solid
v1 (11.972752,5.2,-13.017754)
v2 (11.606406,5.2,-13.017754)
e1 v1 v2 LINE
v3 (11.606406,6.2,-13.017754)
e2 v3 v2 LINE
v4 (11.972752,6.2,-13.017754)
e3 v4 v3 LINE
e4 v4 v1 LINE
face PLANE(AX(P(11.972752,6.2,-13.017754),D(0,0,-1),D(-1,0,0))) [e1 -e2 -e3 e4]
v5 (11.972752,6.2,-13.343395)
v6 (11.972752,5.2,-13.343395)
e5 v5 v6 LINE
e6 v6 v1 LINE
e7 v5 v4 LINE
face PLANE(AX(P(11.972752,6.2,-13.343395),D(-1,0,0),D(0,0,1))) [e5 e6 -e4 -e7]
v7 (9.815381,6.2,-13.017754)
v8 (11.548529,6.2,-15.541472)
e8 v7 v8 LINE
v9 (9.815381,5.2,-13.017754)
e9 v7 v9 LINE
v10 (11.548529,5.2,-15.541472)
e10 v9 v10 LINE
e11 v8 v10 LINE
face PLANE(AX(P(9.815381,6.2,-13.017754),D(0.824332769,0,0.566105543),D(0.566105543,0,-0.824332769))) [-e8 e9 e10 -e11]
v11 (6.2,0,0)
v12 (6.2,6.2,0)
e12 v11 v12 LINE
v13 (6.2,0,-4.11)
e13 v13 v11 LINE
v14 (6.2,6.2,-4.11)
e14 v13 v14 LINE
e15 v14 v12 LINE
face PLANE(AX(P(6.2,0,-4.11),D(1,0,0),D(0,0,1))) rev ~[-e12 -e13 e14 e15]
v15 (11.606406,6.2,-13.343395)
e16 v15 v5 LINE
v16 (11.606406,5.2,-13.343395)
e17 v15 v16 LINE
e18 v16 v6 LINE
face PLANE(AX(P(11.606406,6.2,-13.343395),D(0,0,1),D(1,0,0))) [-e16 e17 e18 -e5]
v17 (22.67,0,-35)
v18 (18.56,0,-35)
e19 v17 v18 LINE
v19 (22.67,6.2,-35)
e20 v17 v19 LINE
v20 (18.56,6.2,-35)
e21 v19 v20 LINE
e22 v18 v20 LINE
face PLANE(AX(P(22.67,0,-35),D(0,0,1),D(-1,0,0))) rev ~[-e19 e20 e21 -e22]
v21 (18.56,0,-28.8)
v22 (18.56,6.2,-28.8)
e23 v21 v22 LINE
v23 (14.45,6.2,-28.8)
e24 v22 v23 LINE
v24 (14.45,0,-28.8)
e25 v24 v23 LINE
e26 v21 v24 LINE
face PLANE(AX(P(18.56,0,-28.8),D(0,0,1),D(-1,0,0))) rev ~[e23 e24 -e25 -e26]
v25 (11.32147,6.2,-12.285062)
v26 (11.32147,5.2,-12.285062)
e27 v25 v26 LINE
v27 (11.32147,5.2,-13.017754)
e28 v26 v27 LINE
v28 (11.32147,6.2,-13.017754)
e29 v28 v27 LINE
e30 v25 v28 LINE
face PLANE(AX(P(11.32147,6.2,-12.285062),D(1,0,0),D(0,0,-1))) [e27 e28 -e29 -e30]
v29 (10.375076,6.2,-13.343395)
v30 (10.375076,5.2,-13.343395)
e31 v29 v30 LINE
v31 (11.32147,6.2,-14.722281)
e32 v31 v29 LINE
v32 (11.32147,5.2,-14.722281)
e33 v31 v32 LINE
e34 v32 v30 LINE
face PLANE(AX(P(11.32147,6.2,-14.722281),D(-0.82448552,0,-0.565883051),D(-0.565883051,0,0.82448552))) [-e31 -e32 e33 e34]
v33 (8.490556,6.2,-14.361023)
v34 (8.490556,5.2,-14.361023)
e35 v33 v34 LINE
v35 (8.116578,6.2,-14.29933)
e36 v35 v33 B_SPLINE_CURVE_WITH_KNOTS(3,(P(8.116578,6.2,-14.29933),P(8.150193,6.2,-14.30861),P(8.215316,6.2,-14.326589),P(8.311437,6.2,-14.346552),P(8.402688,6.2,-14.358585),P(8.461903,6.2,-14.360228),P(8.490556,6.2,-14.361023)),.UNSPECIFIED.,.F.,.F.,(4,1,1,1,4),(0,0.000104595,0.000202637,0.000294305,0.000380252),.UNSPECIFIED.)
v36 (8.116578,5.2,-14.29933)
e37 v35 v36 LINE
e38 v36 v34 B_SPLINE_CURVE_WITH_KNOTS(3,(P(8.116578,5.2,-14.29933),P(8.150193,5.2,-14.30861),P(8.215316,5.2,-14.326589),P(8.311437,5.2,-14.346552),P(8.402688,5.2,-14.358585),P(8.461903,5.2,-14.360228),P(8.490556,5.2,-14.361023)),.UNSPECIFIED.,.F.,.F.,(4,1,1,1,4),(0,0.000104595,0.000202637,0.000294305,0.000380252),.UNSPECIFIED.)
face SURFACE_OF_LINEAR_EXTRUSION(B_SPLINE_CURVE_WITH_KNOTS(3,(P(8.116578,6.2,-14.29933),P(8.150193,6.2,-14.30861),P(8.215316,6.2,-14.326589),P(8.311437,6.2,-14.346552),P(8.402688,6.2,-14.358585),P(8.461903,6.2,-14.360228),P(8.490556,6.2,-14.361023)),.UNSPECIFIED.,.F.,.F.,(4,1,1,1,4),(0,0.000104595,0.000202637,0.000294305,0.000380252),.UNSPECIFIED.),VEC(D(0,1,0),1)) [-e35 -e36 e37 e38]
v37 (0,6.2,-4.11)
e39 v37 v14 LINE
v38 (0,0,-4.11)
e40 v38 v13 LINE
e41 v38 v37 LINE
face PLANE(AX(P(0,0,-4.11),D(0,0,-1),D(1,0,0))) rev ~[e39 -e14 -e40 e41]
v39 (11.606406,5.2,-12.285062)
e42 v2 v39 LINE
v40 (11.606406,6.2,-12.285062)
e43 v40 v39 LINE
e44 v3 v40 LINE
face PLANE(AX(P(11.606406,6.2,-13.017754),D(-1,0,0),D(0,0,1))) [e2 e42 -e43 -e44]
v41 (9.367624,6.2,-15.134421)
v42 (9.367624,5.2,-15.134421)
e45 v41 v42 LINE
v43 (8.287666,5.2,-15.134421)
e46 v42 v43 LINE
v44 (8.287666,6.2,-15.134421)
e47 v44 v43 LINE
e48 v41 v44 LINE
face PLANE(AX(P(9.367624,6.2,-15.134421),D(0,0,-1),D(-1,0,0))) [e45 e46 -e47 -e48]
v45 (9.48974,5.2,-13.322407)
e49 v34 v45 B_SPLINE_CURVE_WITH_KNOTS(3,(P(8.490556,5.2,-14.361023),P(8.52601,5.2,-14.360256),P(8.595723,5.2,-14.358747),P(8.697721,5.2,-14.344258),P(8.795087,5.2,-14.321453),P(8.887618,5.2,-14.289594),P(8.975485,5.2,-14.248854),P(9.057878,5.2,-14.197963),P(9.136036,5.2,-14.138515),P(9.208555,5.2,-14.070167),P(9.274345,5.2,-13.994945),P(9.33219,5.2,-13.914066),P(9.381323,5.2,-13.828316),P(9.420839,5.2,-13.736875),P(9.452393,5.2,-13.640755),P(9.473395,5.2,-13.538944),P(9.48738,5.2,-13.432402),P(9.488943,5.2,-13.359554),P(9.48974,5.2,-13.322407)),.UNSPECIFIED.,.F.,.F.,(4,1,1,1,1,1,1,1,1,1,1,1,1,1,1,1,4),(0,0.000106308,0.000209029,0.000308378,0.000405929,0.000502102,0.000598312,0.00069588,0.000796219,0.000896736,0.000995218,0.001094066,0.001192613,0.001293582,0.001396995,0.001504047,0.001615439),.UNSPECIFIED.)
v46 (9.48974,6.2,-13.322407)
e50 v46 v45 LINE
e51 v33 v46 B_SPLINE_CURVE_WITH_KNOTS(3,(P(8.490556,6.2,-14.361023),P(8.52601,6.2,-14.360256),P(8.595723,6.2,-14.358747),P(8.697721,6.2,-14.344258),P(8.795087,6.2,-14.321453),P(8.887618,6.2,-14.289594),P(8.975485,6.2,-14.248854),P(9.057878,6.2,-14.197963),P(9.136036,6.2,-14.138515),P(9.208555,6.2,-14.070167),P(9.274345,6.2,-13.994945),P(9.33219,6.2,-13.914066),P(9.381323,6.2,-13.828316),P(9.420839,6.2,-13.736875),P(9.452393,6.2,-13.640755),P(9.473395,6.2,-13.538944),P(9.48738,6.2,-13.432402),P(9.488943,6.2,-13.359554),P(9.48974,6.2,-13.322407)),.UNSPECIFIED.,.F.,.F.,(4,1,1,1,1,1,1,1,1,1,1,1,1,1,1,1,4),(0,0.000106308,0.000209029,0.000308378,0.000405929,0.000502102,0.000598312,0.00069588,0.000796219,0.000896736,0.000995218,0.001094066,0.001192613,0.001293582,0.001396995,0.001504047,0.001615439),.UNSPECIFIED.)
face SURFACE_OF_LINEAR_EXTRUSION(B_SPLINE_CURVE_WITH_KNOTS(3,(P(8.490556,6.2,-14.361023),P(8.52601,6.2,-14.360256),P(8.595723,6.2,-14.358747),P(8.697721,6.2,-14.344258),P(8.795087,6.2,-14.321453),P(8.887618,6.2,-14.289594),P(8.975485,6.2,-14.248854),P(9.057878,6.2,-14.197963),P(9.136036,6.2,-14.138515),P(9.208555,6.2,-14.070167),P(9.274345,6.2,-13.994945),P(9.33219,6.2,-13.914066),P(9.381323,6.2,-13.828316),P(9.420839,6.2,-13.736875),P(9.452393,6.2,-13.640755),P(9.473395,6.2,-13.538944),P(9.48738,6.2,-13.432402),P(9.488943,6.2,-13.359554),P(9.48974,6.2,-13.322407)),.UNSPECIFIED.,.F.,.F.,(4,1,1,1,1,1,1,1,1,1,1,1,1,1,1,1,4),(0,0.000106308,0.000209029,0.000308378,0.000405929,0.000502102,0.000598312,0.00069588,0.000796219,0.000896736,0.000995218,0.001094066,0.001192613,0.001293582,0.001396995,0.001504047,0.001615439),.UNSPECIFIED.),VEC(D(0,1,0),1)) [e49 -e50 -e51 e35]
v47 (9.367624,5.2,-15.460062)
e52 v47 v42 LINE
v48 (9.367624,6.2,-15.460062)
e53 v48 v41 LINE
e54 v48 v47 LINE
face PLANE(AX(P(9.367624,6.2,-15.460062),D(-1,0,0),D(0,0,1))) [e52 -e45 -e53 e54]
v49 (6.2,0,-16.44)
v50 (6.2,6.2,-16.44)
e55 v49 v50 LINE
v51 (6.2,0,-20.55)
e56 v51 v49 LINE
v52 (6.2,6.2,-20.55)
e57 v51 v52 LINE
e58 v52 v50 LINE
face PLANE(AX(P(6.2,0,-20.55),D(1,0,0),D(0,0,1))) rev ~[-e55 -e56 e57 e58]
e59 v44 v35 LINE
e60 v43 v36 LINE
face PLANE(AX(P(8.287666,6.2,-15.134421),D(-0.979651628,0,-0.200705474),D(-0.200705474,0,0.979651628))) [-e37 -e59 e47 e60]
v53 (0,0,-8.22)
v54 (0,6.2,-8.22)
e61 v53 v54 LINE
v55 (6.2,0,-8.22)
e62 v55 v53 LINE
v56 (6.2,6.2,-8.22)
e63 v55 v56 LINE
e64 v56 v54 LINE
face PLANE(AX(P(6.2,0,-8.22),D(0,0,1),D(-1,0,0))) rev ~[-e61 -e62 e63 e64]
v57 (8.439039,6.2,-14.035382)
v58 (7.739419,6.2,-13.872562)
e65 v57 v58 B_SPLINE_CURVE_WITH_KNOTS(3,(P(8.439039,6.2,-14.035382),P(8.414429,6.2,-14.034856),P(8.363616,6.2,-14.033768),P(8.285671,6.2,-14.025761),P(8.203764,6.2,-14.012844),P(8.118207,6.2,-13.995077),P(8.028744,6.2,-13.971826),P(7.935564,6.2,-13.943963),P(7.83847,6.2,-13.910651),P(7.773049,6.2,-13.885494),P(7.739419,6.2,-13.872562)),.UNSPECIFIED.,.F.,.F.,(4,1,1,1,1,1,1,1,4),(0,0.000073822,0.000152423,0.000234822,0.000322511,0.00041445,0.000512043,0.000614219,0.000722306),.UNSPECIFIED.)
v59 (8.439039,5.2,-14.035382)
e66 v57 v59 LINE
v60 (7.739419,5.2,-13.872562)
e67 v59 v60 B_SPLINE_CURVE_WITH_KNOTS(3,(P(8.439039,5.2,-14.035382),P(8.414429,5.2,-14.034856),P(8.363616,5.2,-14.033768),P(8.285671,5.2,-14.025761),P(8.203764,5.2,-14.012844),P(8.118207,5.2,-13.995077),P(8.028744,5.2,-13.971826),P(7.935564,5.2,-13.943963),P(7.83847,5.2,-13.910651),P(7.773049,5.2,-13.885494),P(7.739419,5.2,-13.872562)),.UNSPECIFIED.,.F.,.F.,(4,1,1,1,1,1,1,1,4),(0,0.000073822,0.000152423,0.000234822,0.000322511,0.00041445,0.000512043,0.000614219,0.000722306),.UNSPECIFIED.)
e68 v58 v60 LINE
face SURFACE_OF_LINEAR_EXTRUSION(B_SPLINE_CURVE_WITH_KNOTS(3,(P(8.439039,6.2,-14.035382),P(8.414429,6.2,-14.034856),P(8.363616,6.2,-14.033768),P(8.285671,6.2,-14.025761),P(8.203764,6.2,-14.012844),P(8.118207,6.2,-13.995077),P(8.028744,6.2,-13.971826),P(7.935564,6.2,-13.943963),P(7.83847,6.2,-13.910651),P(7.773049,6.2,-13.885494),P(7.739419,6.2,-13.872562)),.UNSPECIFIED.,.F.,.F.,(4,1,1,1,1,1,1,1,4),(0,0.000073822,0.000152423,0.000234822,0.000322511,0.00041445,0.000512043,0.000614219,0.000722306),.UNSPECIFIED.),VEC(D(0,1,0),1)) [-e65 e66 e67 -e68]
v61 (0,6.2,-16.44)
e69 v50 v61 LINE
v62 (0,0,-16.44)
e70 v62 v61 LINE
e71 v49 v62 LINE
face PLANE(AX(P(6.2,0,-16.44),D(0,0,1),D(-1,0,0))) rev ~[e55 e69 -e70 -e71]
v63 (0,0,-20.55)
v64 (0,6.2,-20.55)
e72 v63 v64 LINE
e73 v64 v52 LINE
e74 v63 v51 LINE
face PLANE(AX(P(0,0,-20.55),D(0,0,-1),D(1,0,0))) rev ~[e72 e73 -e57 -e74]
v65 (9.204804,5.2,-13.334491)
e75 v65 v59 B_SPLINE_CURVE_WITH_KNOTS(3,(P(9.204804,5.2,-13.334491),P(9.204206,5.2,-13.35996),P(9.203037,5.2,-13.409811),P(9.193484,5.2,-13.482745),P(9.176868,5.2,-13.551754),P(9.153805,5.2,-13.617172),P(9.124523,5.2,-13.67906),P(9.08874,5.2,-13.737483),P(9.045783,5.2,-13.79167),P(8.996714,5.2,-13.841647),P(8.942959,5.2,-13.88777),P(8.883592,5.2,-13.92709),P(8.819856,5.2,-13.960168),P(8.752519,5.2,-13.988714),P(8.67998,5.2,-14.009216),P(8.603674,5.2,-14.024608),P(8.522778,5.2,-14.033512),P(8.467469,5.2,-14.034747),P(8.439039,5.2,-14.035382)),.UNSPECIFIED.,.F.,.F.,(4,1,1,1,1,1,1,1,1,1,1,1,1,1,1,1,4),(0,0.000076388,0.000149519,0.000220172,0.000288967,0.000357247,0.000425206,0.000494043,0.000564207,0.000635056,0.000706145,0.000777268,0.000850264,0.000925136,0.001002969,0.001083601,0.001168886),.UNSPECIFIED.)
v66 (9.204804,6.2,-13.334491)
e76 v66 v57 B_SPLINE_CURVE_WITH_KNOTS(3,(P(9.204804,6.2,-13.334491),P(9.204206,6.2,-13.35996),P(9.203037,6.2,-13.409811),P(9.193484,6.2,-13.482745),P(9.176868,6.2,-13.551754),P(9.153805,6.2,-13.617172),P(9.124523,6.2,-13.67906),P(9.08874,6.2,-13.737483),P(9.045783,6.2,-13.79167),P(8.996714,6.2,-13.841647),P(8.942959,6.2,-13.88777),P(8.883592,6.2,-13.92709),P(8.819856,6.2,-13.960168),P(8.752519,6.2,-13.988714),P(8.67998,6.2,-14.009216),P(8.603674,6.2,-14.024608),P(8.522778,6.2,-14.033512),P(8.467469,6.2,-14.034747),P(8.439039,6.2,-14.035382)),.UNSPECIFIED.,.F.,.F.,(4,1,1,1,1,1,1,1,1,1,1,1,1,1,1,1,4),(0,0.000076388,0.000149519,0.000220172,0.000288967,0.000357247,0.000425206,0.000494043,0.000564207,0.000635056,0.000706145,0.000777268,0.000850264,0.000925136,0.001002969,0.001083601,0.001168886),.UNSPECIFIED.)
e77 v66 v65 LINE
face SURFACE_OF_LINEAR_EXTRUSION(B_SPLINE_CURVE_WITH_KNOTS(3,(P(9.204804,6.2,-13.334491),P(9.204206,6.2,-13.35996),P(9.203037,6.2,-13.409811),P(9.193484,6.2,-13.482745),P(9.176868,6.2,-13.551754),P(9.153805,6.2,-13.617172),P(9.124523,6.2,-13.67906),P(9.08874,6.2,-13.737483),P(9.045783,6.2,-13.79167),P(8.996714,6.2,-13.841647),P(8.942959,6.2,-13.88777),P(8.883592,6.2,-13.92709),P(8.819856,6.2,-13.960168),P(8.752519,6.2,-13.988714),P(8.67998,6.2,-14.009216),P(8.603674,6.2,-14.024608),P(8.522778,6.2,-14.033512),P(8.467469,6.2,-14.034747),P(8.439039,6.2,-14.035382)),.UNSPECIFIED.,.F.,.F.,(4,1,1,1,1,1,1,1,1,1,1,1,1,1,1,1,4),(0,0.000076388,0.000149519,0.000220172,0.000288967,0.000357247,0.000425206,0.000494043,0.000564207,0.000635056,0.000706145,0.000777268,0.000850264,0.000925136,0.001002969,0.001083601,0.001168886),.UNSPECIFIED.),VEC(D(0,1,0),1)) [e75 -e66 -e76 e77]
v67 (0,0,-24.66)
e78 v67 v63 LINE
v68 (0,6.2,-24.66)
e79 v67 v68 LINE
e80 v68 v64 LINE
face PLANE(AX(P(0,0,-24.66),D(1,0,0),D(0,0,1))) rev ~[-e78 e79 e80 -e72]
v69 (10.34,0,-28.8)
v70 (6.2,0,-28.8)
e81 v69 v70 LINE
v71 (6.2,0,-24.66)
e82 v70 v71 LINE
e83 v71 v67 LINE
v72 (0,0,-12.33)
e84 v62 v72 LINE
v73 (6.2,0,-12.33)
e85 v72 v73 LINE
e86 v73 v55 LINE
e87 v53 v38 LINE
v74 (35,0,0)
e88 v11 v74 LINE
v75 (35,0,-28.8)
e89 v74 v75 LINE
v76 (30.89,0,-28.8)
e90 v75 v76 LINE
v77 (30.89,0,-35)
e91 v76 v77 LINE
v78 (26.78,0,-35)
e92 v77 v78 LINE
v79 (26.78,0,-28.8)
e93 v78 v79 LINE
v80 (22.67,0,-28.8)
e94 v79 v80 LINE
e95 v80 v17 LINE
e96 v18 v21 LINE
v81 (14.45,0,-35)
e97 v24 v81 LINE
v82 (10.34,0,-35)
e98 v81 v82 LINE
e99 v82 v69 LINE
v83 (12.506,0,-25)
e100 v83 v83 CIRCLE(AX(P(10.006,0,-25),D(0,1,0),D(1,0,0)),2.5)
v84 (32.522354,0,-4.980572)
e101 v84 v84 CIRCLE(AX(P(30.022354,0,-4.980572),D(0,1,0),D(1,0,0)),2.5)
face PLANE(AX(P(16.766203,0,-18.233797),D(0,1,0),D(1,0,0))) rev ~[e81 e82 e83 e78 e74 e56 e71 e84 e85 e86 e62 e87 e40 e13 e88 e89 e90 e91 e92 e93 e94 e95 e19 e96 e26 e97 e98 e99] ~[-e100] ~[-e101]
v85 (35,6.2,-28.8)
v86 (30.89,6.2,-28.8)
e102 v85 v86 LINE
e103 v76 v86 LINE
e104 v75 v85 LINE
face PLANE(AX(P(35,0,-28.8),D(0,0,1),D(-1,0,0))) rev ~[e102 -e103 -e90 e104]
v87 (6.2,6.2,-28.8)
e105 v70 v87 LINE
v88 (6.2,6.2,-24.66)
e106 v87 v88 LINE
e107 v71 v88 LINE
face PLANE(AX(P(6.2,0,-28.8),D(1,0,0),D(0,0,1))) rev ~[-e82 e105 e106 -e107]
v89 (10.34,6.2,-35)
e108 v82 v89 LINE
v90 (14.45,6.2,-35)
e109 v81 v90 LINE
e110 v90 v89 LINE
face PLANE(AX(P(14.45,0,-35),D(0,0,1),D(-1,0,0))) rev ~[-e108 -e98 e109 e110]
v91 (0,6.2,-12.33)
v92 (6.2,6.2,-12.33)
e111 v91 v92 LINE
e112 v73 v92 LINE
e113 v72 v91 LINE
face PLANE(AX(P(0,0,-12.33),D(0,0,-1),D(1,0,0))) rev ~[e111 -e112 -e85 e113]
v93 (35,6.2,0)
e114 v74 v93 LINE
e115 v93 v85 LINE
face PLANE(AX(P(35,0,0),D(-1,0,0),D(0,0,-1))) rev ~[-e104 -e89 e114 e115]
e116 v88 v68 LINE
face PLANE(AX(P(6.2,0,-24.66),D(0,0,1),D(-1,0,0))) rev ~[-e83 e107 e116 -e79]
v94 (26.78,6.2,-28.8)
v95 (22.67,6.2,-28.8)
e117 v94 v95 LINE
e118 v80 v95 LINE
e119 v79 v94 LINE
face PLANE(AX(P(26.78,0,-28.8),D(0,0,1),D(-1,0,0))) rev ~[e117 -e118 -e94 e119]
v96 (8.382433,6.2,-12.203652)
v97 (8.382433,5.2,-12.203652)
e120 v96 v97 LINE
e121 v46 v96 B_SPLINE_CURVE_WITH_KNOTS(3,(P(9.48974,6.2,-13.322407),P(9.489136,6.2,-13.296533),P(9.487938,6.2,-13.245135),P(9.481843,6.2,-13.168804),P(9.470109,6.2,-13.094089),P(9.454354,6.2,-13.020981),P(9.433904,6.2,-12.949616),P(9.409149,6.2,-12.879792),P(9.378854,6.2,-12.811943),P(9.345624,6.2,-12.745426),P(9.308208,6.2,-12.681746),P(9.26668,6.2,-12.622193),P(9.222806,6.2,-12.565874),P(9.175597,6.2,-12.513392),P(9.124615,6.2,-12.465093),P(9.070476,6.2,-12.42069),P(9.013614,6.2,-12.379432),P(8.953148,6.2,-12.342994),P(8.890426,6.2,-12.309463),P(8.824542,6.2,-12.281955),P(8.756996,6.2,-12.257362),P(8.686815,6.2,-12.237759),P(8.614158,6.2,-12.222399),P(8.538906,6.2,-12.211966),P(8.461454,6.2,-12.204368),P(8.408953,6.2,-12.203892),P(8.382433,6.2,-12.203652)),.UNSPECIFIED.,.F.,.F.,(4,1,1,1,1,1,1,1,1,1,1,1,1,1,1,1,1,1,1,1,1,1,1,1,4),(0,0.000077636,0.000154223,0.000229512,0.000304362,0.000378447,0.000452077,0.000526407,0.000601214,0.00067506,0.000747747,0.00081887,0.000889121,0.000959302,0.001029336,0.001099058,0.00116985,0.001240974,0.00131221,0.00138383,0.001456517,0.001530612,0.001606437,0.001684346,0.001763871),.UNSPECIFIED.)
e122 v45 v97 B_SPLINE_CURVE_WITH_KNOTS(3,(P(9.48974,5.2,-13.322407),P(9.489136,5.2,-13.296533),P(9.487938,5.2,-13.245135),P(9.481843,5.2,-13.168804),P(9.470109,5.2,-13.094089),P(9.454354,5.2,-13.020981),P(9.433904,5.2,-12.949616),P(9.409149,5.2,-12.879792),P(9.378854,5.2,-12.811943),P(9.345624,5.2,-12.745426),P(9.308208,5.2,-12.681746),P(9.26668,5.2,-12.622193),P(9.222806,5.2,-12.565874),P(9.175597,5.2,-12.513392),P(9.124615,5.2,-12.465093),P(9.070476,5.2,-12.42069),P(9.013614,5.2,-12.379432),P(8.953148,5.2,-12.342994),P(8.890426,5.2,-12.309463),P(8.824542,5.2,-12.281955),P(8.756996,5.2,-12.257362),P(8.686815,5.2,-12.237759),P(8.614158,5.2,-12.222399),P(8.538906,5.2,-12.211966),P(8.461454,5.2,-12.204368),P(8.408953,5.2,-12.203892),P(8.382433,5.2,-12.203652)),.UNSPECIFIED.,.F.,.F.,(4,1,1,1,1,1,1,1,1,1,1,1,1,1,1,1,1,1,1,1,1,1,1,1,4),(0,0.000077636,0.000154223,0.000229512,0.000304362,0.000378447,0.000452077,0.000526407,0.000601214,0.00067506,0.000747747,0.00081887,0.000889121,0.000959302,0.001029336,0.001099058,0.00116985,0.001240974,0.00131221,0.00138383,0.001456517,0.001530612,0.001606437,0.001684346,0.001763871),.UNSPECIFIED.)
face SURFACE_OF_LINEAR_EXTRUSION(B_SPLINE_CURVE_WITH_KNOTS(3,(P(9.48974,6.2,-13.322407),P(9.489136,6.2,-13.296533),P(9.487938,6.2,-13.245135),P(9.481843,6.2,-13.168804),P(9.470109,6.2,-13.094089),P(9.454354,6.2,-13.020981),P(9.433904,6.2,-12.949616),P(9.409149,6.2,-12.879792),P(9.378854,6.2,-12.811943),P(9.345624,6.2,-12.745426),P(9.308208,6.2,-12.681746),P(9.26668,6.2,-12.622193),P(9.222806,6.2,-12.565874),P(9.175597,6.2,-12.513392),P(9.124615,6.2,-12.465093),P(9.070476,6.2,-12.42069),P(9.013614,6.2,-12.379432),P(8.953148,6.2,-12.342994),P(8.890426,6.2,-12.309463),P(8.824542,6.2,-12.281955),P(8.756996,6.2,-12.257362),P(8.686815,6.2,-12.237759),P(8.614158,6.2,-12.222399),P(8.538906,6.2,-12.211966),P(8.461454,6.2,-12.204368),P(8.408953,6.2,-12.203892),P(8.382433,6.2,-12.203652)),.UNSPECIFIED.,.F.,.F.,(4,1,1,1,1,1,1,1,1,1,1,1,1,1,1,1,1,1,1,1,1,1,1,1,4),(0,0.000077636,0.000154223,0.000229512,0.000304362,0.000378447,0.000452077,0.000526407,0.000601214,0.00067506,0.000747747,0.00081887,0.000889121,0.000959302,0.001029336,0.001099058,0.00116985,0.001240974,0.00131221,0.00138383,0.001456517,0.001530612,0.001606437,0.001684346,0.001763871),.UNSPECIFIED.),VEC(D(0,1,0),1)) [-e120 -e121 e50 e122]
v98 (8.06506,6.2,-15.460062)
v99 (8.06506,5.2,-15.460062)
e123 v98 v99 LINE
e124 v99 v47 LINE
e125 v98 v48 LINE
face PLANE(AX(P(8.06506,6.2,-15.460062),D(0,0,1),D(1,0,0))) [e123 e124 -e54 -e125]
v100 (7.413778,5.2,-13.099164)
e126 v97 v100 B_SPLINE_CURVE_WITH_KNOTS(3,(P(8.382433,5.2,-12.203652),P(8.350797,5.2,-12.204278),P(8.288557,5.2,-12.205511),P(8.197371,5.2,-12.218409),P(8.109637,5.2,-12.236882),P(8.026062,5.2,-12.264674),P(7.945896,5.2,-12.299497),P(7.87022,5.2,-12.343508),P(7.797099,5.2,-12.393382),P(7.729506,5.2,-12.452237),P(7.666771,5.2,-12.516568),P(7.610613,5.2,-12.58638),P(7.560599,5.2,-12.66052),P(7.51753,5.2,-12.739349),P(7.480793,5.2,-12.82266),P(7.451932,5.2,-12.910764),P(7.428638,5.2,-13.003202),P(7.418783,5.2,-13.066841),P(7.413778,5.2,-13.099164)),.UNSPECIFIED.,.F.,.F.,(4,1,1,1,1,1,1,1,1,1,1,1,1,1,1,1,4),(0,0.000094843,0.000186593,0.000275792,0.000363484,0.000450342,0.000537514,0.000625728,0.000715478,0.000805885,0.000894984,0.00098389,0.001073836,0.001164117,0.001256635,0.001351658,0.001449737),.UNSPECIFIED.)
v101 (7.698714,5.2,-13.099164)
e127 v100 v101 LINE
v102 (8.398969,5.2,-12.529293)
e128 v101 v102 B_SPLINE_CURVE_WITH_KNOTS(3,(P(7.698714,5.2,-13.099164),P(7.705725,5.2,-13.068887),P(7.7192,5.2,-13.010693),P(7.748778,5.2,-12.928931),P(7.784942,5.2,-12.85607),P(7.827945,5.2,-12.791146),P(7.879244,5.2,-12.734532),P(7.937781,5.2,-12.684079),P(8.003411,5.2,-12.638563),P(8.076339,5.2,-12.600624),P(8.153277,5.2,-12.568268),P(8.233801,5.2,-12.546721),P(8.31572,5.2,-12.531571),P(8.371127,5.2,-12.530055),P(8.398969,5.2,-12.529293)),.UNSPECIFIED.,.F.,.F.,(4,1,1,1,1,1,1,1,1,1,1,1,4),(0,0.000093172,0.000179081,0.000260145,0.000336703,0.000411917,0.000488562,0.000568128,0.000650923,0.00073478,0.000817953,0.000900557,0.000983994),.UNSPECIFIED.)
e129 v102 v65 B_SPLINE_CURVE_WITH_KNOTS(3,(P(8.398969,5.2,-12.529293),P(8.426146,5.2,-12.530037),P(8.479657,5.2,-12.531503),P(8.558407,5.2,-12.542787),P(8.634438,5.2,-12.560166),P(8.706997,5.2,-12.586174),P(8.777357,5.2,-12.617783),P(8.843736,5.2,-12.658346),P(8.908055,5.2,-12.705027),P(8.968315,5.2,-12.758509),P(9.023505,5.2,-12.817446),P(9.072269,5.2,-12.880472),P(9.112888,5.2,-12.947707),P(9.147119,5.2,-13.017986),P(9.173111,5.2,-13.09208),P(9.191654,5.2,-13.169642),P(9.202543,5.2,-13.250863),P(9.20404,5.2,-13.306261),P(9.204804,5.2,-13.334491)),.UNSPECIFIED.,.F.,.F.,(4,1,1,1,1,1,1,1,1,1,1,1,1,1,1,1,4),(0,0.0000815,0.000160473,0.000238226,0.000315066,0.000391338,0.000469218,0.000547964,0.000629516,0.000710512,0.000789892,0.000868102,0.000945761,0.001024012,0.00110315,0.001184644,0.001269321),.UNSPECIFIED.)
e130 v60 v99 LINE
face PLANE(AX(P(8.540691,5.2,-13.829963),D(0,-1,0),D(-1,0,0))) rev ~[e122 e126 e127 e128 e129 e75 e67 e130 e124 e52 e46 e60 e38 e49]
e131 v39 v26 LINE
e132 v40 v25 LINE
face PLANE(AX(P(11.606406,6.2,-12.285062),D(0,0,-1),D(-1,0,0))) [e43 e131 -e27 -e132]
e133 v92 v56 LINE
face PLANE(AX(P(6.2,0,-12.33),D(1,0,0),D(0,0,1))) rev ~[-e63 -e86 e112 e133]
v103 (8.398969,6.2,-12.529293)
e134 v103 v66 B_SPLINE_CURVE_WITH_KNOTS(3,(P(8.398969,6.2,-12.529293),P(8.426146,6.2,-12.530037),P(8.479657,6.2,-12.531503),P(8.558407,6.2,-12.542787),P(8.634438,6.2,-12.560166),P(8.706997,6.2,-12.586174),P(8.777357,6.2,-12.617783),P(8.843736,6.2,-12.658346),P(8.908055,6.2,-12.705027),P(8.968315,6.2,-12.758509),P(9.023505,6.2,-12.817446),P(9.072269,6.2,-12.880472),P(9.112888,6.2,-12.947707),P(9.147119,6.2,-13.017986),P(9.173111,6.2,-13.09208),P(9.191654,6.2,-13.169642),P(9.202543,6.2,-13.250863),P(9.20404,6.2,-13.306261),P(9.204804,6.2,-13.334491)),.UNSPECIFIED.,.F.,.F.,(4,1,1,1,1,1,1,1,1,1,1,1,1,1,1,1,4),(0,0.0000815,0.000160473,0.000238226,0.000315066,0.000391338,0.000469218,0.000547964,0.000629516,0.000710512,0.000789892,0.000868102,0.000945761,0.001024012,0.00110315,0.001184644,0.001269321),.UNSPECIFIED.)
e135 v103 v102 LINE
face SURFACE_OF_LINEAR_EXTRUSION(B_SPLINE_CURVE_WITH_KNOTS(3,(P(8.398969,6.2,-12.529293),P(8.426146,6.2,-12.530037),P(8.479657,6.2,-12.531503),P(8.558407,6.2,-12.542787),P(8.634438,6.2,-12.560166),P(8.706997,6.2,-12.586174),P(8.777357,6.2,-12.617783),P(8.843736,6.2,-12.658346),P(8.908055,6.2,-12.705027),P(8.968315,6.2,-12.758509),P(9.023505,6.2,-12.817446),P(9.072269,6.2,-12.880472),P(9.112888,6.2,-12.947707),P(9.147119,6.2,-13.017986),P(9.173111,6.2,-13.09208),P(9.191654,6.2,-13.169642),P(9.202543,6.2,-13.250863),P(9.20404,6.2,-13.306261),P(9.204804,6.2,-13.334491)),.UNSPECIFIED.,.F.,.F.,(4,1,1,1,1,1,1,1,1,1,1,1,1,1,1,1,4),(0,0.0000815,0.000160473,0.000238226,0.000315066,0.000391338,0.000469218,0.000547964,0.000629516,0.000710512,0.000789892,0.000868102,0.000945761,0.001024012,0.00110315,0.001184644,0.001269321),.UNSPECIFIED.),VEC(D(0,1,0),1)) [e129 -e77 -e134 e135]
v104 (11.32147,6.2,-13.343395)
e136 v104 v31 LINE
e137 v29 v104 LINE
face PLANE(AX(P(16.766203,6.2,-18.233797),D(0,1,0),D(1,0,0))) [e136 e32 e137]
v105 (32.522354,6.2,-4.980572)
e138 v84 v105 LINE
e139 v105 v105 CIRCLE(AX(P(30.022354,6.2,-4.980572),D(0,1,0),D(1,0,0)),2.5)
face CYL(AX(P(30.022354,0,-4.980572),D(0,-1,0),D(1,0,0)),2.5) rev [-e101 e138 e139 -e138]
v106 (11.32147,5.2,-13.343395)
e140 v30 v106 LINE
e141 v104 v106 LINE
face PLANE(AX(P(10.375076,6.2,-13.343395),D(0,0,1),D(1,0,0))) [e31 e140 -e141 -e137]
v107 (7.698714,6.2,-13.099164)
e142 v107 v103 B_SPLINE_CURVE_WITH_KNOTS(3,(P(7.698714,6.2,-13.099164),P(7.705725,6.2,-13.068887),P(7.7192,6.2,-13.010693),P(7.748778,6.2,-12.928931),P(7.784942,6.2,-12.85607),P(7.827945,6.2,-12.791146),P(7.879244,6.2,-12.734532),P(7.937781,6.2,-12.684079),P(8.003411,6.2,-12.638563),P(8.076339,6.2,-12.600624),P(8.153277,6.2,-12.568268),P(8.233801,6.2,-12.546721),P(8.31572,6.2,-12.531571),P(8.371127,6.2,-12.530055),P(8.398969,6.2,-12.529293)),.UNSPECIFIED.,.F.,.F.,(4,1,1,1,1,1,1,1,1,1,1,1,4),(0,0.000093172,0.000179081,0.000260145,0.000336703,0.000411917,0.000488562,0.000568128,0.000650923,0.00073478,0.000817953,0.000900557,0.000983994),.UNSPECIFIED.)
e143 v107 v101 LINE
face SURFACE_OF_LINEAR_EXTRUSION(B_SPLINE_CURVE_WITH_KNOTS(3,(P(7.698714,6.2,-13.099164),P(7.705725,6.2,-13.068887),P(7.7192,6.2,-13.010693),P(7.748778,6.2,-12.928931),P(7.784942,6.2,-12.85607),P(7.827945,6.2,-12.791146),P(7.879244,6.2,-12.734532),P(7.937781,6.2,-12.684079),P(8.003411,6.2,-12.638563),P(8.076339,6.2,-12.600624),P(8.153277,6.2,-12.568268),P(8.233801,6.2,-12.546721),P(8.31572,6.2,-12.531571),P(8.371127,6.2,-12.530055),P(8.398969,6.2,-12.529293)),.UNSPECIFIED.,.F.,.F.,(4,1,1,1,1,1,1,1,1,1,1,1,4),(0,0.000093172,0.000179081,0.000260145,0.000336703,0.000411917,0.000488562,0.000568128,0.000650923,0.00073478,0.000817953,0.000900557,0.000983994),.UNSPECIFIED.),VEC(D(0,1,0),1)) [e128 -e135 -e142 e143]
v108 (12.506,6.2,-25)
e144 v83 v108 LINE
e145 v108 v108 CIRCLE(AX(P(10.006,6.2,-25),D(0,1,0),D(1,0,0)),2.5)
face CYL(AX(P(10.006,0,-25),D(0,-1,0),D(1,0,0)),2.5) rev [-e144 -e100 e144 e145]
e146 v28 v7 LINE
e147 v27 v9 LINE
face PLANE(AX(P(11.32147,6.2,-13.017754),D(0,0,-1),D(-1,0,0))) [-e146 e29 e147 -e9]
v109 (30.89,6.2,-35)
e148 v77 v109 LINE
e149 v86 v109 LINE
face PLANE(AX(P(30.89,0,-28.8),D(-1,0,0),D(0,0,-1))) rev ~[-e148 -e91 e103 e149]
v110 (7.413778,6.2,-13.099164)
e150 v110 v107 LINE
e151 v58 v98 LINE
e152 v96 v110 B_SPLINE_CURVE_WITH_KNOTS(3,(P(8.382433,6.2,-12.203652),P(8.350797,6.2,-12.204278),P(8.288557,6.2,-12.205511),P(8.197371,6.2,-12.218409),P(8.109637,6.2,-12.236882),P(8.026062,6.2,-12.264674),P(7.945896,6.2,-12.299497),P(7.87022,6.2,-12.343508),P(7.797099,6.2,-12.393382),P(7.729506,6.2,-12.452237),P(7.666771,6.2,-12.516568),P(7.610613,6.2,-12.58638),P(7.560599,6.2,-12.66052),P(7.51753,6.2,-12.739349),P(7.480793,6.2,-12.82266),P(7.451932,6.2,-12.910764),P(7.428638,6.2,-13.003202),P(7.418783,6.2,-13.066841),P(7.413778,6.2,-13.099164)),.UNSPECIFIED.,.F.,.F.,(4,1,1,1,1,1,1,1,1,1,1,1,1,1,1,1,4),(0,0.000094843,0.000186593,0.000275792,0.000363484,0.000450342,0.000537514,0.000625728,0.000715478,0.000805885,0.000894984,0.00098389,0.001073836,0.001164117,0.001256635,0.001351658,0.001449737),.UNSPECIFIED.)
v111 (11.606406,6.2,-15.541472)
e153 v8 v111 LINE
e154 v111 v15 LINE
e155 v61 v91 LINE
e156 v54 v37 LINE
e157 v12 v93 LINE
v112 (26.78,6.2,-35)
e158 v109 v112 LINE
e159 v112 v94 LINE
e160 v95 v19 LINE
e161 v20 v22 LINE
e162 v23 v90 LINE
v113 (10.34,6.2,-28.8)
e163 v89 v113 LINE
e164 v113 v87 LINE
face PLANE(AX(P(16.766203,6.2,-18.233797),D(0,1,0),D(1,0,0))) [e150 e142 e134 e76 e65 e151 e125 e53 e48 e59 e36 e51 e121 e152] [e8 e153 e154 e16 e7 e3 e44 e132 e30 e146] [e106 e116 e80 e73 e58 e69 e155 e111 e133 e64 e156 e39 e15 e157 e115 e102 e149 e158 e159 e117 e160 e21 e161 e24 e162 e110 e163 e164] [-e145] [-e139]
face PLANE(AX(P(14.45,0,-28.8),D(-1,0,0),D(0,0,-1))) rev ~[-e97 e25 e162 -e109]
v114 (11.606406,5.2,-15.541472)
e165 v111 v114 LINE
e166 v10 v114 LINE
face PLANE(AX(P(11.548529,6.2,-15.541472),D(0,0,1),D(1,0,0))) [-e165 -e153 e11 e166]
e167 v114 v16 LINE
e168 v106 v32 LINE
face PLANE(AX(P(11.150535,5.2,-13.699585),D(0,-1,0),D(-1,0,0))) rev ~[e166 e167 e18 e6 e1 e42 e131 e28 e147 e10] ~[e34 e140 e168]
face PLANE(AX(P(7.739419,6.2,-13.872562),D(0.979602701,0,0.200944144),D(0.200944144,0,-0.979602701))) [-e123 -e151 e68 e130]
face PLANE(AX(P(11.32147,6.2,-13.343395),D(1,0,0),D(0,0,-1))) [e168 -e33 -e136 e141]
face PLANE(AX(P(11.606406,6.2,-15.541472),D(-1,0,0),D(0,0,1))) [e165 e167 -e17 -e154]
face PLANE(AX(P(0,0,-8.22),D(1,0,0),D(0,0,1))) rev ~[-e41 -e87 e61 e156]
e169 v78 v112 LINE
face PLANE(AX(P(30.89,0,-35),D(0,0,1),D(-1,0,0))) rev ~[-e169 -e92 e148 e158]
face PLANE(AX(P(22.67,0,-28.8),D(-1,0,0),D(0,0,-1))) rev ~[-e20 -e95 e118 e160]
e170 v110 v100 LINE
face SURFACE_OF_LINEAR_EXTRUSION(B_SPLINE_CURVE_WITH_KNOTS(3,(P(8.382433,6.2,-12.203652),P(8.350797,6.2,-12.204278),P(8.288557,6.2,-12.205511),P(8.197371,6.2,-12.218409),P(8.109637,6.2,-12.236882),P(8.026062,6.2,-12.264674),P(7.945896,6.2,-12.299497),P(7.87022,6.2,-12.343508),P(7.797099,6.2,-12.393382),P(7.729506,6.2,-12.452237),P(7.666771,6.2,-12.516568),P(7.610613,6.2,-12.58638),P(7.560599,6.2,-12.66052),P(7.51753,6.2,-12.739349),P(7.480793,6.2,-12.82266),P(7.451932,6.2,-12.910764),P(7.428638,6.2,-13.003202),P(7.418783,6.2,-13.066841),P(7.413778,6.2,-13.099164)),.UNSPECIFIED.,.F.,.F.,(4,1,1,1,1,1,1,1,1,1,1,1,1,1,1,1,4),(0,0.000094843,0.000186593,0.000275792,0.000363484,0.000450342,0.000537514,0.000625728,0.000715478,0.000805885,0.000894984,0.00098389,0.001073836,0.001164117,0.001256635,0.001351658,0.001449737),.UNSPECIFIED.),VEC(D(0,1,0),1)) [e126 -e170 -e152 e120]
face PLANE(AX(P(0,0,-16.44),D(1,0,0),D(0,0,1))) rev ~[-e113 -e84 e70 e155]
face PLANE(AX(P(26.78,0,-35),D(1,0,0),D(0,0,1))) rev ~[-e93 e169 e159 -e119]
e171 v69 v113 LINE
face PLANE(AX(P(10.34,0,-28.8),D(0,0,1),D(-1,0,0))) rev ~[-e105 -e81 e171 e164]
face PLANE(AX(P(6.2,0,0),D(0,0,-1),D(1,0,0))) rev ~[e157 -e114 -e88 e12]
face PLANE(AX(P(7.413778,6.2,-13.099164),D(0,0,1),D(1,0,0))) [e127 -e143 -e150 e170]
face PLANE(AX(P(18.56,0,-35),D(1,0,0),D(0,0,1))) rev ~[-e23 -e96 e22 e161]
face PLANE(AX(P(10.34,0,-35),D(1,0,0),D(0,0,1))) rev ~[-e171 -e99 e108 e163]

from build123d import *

# Parameters (mm, degrees)
SKETCH1_R           = 2.5
BOSS_EXTRUDE1_DEPTH = 6.2
CUT_EXTRUDE1_DEPTH  = 1


with BuildPart() as part:
    # Sketch1 → Boss-Extrude1 (new body)
    with BuildSketch(Plane(origin=(0, 0, 0), x_dir=(1, 0, 0), z_dir=(0, 1, 0))):
        Polygon((0, 24.66), (0, 20.55), (6.2, 20.55), (6.2, 16.44), (0, 16.44), (0, 12.33), (6.2, 12.33), (6.2, 8.22), (0, 8.22), (0, 4.11), (6.2, 4.11), (6.2, 0), (17, 0), (35, 0), (35, 18), (35, 28.8), (30.89, 28.8), (30.89, 35), (26.78, 35), (26.78, 28.8), (22.67, 28.8), (22.67, 35), (18.56, 35), (18.56, 28.8), (14.45, 28.8), (14.45, 35), (10.34, 35), (10.34, 28.8), (6.2, 28.8), (6.2, 24.66), align=None)
        with Locations((10.006, 25)):
            Circle(SKETCH1_R, mode=Mode.SUBTRACT)
        with Locations((30.02235364, 4.980572344)):
            Circle(SKETCH1_R, mode=Mode.SUBTRACT)
    extrude(amount=BOSS_EXTRUDE1_DEPTH)

    # Sketch2 → Cut-Extrude1 (cut)
    with BuildSketch(Plane(origin=(0, 6.2, 0), x_dir=(1, 0, 0), z_dir=(0, 1, 0))):
        with BuildLine():
            Line((9.367624272, 15.46006193), (9.367624272, 15.134420905))
            Line((9.367624272, 15.134420905), (8.28766634, 15.134420905))
            Line((8.28766634, 15.134420905), (8.116577598, 14.299329759))
            add(Edge.make_bspline(
                [(8.116577598, 14.299329759), (8.150192569, 14.308610077), (8.215316261, 14.326589225), (8.311436992, 14.346551603), (8.40268849, 14.358585256), (8.461902576, 14.360228373), (8.490555963, 14.361023469)],
                knots=[0, 0, 0, 0, 0.000104595, 0.000202637, 0.000294305, 0.000380252, 0.000380252, 0.000380252, 0.000380252], degree=3))
            add(Edge.make_bspline(
                [(8.490555963, 14.361023469), (8.526010498, 14.360256084), (8.595722973, 14.358747215), (8.697721161, 14.344258466), (8.795087428, 14.321452972), (8.88761815, 14.289593641), (8.975484506, 14.248854097), (9.05787808, 14.197963437), (9.136035615, 14.138515344), (9.208554968, 14.070166655), (9.274344876, 13.994944902), (9.332189738, 13.914065976), (9.381322945, 13.828315883), (9.420838773, 13.736875331), (9.452393133, 13.640755241), (9.4733953, 13.538944256), (9.487380458, 13.432402033), (9.488942908, 13.359554316), (9.489739657, 13.322406682)],
                knots=[0, 0, 0, 0, 0.000106308, 0.000209029, 0.000308378, 0.000405929, 0.000502102, 0.000598312, 0.00069588, 0.000796219, 0.000896736, 0.000995218, 0.001094066, 0.001192613, 0.001293582, 0.001396995, 0.001504047, 0.001615439, 0.001615439, 0.001615439, 0.001615439], degree=3))
            add(Edge.make_bspline(
                [(9.489739657, 13.322406682), (9.489136339, 13.296532954), (9.487937855, 13.245135158), (9.481843137, 13.168804347), (9.470108594, 13.094089491), (9.454353587, 13.020980679), (9.433904394, 12.94961632), (9.409149323, 12.879792148), (9.378854356, 12.811942755), (9.345624465, 12.745426146), (9.308208017, 12.681746072), (9.266680371, 12.622193063), (9.222805961, 12.56587375), (9.17559699, 12.51339215), (9.124614659, 12.465093126), (9.070476403, 12.420690042), (9.013614223, 12.379431978), (8.953148396, 12.342993687), (8.890426286, 12.309463005), (8.824542118, 12.281955225), (8.756995625, 12.257362103), (8.686814631, 12.237759175), (8.614158101, 12.222398929), (8.538906269, 12.211966241), (8.461453804, 12.204367616), (8.4089529, 12.203891949), (8.382432966, 12.203651674)],
                knots=[0, 0, 0, 0, 7.7636e-05, 0.000154223, 0.000229512, 0.000304362, 0.000378447, 0.000452077, 0.000526407, 0.000601214, 0.00067506, 0.000747747, 0.00081887, 0.000889121, 0.000959302, 0.001029336, 0.001099058, 0.00116985, 0.001240974, 0.00131221, 0.00138383, 0.001456517, 0.001530612, 0.001606437, 0.001684346, 0.001763871, 0.001763871, 0.001763871, 0.001763871], degree=3))
            add(Edge.make_bspline(
                [(8.382432966, 12.203651674), (8.350797102, 12.204278363), (8.288557277, 12.205511299), (8.197370763, 12.218409496), (8.109636799, 12.236882477), (8.026061636, 12.264673951), (7.945896275, 12.299496711), (7.870219953, 12.343507809), (7.797098999, 12.393381711), (7.729505937, 12.452237459), (7.666771462, 12.516568114), (7.610613415, 12.586379688), (7.560599385, 12.660519968), (7.517530286, 12.739349008), (7.480792795, 12.822659675), (7.451932056, 12.910764112), (7.428638119, 13.003201972), (7.418783445, 13.066841228), (7.413778118, 13.099164495)],
                knots=[0, 0, 0, 0, 9.4843e-05, 0.000186593, 0.000275792, 0.000363484, 0.000450342, 0.000537514, 0.000625728, 0.000715478, 0.000805885, 0.000894984, 0.00098389, 0.001073836, 0.001164117, 0.001256635, 0.001351658, 0.001449737, 0.001449737, 0.001449737, 0.001449737], degree=3))
            Line((7.413778118, 13.099164495), (7.698714016, 13.099164495))
            add(Edge.make_bspline(
                [(7.698714016, 13.099164495), (7.705724921, 13.068887284), (7.719200271, 13.010692804), (7.748778343, 12.928930802), (7.784942388, 12.856069792), (7.827944904, 12.791145956), (7.87924386, 12.73453208), (7.93778127, 12.684079459), (8.003410991, 12.638563449), (8.076339135, 12.600624224), (8.153276714, 12.56826757), (8.233801254, 12.546721389), (8.315720197, 12.531571293), (8.371127004, 12.530054768), (8.398969424, 12.5292927)],
                knots=[0, 0, 0, 0, 9.3172e-05, 0.000179081, 0.000260145, 0.000336703, 0.000411917, 0.000488562, 0.000568128, 0.000650923, 0.00073478, 0.000817953, 0.000900557, 0.000983994, 0.000983994, 0.000983994, 0.000983994], degree=3))
            add(Edge.make_bspline(
                [(8.398969424, 12.5292927), (8.426146013, 12.530037262), (8.479656939, 12.531503313), (8.558407269, 12.542787274), (8.634437519, 12.560165928), (8.706997478, 12.586173582), (8.777356875, 12.617782719), (8.843735938, 12.658345681), (8.908054976, 12.705027269), (8.968314783, 12.758509355), (9.023504855, 12.817446149), (9.072269336, 12.880472071), (9.112888394, 12.947706638), (9.147118621, 13.017985856), (9.173111256, 13.092079975), (9.191654146, 13.169641756), (9.202542635, 13.250862773), (9.204040492, 13.306261362), (9.204803759, 13.334491017)],
                knots=[0, 0, 0, 0, 8.15e-05, 0.000160473, 0.000238226, 0.000315066, 0.000391338, 0.000469218, 0.000547964, 0.000629516, 0.000710512, 0.000789892, 0.000868102, 0.000945761, 0.001024012, 0.00110315, 0.001184644, 0.001269321, 0.001269321, 0.001269321, 0.001269321], degree=3))
            add(Edge.make_bspline(
                [(9.204803759, 13.334491017), (9.204206424, 13.359959735), (9.203037226, 13.409811125), (9.193484495, 13.482744691), (9.176868384, 13.551753808), (9.153805293, 13.61717172), (9.124523168, 13.679060129), (9.088739728, 13.737482905), (9.045783431, 13.791670025), (8.996714361, 13.841646841), (8.942958852, 13.887770406), (8.883592028, 13.927089685), (8.819856238, 13.960167667), (8.752519387, 13.988713637), (8.6799798, 14.009215742), (8.603673998, 14.024608038), (8.522777984, 14.033511974), (8.46746886, 14.034747402), (8.439038535, 14.035382443)],
                knots=[0, 0, 0, 0, 7.6388e-05, 0.000149519, 0.000220172, 0.000288967, 0.000357247, 0.000425206, 0.000494043, 0.000564207, 0.000635056, 0.000706145, 0.000777268, 0.000850264, 0.000925136, 0.001002969, 0.001083601, 0.001168886, 0.001168886, 0.001168886, 0.001168886], degree=3))
            add(Edge.make_bspline(
                [(8.439038535, 14.035382443), (8.414428721, 14.034855764), (8.363615699, 14.033768305), (8.28567142, 14.025761412), (8.203763929, 14.012844338), (8.118207208, 13.995076813), (8.028744318, 13.971825765), (7.935564055, 13.943963325), (7.838470499, 13.910651226), (7.77304942, 13.885494147), (7.739419144, 13.87256193)],
                knots=[0, 0, 0, 0, 7.3822e-05, 0.000152423, 0.000234822, 0.000322511, 0.00041445, 0.000512043, 0.000614219, 0.000722306, 0.000722306, 0.000722306, 0.000722306], degree=3))
            Line((7.739419144, 13.87256193), (8.06506017, 15.46006193))
            Line((8.06506017, 15.46006193), (9.367624272, 15.46006193))
        make_face()
        Polygon((11.548528719, 15.541472187), (11.606406324, 15.541472187), (11.606406324, 13.343395264), (11.972752477, 13.343395264), (11.972752477, 13.017754238), (11.606406324, 13.017754238), (11.606406324, 12.28506193), (11.321470426, 12.28506193), (11.321470426, 13.017754238), (9.815380682, 13.017754238), align=None)
        Polygon((11.321470426, 13.343395264), (11.321470426, 14.722281482), (10.375076195, 13.343395264), align=None, mode=Mode.SUBTRACT)
    extrude(amount=-CUT_EXTRUDE1_DEPTH, mode=Mode.SUBTRACT)


solid = part.part
